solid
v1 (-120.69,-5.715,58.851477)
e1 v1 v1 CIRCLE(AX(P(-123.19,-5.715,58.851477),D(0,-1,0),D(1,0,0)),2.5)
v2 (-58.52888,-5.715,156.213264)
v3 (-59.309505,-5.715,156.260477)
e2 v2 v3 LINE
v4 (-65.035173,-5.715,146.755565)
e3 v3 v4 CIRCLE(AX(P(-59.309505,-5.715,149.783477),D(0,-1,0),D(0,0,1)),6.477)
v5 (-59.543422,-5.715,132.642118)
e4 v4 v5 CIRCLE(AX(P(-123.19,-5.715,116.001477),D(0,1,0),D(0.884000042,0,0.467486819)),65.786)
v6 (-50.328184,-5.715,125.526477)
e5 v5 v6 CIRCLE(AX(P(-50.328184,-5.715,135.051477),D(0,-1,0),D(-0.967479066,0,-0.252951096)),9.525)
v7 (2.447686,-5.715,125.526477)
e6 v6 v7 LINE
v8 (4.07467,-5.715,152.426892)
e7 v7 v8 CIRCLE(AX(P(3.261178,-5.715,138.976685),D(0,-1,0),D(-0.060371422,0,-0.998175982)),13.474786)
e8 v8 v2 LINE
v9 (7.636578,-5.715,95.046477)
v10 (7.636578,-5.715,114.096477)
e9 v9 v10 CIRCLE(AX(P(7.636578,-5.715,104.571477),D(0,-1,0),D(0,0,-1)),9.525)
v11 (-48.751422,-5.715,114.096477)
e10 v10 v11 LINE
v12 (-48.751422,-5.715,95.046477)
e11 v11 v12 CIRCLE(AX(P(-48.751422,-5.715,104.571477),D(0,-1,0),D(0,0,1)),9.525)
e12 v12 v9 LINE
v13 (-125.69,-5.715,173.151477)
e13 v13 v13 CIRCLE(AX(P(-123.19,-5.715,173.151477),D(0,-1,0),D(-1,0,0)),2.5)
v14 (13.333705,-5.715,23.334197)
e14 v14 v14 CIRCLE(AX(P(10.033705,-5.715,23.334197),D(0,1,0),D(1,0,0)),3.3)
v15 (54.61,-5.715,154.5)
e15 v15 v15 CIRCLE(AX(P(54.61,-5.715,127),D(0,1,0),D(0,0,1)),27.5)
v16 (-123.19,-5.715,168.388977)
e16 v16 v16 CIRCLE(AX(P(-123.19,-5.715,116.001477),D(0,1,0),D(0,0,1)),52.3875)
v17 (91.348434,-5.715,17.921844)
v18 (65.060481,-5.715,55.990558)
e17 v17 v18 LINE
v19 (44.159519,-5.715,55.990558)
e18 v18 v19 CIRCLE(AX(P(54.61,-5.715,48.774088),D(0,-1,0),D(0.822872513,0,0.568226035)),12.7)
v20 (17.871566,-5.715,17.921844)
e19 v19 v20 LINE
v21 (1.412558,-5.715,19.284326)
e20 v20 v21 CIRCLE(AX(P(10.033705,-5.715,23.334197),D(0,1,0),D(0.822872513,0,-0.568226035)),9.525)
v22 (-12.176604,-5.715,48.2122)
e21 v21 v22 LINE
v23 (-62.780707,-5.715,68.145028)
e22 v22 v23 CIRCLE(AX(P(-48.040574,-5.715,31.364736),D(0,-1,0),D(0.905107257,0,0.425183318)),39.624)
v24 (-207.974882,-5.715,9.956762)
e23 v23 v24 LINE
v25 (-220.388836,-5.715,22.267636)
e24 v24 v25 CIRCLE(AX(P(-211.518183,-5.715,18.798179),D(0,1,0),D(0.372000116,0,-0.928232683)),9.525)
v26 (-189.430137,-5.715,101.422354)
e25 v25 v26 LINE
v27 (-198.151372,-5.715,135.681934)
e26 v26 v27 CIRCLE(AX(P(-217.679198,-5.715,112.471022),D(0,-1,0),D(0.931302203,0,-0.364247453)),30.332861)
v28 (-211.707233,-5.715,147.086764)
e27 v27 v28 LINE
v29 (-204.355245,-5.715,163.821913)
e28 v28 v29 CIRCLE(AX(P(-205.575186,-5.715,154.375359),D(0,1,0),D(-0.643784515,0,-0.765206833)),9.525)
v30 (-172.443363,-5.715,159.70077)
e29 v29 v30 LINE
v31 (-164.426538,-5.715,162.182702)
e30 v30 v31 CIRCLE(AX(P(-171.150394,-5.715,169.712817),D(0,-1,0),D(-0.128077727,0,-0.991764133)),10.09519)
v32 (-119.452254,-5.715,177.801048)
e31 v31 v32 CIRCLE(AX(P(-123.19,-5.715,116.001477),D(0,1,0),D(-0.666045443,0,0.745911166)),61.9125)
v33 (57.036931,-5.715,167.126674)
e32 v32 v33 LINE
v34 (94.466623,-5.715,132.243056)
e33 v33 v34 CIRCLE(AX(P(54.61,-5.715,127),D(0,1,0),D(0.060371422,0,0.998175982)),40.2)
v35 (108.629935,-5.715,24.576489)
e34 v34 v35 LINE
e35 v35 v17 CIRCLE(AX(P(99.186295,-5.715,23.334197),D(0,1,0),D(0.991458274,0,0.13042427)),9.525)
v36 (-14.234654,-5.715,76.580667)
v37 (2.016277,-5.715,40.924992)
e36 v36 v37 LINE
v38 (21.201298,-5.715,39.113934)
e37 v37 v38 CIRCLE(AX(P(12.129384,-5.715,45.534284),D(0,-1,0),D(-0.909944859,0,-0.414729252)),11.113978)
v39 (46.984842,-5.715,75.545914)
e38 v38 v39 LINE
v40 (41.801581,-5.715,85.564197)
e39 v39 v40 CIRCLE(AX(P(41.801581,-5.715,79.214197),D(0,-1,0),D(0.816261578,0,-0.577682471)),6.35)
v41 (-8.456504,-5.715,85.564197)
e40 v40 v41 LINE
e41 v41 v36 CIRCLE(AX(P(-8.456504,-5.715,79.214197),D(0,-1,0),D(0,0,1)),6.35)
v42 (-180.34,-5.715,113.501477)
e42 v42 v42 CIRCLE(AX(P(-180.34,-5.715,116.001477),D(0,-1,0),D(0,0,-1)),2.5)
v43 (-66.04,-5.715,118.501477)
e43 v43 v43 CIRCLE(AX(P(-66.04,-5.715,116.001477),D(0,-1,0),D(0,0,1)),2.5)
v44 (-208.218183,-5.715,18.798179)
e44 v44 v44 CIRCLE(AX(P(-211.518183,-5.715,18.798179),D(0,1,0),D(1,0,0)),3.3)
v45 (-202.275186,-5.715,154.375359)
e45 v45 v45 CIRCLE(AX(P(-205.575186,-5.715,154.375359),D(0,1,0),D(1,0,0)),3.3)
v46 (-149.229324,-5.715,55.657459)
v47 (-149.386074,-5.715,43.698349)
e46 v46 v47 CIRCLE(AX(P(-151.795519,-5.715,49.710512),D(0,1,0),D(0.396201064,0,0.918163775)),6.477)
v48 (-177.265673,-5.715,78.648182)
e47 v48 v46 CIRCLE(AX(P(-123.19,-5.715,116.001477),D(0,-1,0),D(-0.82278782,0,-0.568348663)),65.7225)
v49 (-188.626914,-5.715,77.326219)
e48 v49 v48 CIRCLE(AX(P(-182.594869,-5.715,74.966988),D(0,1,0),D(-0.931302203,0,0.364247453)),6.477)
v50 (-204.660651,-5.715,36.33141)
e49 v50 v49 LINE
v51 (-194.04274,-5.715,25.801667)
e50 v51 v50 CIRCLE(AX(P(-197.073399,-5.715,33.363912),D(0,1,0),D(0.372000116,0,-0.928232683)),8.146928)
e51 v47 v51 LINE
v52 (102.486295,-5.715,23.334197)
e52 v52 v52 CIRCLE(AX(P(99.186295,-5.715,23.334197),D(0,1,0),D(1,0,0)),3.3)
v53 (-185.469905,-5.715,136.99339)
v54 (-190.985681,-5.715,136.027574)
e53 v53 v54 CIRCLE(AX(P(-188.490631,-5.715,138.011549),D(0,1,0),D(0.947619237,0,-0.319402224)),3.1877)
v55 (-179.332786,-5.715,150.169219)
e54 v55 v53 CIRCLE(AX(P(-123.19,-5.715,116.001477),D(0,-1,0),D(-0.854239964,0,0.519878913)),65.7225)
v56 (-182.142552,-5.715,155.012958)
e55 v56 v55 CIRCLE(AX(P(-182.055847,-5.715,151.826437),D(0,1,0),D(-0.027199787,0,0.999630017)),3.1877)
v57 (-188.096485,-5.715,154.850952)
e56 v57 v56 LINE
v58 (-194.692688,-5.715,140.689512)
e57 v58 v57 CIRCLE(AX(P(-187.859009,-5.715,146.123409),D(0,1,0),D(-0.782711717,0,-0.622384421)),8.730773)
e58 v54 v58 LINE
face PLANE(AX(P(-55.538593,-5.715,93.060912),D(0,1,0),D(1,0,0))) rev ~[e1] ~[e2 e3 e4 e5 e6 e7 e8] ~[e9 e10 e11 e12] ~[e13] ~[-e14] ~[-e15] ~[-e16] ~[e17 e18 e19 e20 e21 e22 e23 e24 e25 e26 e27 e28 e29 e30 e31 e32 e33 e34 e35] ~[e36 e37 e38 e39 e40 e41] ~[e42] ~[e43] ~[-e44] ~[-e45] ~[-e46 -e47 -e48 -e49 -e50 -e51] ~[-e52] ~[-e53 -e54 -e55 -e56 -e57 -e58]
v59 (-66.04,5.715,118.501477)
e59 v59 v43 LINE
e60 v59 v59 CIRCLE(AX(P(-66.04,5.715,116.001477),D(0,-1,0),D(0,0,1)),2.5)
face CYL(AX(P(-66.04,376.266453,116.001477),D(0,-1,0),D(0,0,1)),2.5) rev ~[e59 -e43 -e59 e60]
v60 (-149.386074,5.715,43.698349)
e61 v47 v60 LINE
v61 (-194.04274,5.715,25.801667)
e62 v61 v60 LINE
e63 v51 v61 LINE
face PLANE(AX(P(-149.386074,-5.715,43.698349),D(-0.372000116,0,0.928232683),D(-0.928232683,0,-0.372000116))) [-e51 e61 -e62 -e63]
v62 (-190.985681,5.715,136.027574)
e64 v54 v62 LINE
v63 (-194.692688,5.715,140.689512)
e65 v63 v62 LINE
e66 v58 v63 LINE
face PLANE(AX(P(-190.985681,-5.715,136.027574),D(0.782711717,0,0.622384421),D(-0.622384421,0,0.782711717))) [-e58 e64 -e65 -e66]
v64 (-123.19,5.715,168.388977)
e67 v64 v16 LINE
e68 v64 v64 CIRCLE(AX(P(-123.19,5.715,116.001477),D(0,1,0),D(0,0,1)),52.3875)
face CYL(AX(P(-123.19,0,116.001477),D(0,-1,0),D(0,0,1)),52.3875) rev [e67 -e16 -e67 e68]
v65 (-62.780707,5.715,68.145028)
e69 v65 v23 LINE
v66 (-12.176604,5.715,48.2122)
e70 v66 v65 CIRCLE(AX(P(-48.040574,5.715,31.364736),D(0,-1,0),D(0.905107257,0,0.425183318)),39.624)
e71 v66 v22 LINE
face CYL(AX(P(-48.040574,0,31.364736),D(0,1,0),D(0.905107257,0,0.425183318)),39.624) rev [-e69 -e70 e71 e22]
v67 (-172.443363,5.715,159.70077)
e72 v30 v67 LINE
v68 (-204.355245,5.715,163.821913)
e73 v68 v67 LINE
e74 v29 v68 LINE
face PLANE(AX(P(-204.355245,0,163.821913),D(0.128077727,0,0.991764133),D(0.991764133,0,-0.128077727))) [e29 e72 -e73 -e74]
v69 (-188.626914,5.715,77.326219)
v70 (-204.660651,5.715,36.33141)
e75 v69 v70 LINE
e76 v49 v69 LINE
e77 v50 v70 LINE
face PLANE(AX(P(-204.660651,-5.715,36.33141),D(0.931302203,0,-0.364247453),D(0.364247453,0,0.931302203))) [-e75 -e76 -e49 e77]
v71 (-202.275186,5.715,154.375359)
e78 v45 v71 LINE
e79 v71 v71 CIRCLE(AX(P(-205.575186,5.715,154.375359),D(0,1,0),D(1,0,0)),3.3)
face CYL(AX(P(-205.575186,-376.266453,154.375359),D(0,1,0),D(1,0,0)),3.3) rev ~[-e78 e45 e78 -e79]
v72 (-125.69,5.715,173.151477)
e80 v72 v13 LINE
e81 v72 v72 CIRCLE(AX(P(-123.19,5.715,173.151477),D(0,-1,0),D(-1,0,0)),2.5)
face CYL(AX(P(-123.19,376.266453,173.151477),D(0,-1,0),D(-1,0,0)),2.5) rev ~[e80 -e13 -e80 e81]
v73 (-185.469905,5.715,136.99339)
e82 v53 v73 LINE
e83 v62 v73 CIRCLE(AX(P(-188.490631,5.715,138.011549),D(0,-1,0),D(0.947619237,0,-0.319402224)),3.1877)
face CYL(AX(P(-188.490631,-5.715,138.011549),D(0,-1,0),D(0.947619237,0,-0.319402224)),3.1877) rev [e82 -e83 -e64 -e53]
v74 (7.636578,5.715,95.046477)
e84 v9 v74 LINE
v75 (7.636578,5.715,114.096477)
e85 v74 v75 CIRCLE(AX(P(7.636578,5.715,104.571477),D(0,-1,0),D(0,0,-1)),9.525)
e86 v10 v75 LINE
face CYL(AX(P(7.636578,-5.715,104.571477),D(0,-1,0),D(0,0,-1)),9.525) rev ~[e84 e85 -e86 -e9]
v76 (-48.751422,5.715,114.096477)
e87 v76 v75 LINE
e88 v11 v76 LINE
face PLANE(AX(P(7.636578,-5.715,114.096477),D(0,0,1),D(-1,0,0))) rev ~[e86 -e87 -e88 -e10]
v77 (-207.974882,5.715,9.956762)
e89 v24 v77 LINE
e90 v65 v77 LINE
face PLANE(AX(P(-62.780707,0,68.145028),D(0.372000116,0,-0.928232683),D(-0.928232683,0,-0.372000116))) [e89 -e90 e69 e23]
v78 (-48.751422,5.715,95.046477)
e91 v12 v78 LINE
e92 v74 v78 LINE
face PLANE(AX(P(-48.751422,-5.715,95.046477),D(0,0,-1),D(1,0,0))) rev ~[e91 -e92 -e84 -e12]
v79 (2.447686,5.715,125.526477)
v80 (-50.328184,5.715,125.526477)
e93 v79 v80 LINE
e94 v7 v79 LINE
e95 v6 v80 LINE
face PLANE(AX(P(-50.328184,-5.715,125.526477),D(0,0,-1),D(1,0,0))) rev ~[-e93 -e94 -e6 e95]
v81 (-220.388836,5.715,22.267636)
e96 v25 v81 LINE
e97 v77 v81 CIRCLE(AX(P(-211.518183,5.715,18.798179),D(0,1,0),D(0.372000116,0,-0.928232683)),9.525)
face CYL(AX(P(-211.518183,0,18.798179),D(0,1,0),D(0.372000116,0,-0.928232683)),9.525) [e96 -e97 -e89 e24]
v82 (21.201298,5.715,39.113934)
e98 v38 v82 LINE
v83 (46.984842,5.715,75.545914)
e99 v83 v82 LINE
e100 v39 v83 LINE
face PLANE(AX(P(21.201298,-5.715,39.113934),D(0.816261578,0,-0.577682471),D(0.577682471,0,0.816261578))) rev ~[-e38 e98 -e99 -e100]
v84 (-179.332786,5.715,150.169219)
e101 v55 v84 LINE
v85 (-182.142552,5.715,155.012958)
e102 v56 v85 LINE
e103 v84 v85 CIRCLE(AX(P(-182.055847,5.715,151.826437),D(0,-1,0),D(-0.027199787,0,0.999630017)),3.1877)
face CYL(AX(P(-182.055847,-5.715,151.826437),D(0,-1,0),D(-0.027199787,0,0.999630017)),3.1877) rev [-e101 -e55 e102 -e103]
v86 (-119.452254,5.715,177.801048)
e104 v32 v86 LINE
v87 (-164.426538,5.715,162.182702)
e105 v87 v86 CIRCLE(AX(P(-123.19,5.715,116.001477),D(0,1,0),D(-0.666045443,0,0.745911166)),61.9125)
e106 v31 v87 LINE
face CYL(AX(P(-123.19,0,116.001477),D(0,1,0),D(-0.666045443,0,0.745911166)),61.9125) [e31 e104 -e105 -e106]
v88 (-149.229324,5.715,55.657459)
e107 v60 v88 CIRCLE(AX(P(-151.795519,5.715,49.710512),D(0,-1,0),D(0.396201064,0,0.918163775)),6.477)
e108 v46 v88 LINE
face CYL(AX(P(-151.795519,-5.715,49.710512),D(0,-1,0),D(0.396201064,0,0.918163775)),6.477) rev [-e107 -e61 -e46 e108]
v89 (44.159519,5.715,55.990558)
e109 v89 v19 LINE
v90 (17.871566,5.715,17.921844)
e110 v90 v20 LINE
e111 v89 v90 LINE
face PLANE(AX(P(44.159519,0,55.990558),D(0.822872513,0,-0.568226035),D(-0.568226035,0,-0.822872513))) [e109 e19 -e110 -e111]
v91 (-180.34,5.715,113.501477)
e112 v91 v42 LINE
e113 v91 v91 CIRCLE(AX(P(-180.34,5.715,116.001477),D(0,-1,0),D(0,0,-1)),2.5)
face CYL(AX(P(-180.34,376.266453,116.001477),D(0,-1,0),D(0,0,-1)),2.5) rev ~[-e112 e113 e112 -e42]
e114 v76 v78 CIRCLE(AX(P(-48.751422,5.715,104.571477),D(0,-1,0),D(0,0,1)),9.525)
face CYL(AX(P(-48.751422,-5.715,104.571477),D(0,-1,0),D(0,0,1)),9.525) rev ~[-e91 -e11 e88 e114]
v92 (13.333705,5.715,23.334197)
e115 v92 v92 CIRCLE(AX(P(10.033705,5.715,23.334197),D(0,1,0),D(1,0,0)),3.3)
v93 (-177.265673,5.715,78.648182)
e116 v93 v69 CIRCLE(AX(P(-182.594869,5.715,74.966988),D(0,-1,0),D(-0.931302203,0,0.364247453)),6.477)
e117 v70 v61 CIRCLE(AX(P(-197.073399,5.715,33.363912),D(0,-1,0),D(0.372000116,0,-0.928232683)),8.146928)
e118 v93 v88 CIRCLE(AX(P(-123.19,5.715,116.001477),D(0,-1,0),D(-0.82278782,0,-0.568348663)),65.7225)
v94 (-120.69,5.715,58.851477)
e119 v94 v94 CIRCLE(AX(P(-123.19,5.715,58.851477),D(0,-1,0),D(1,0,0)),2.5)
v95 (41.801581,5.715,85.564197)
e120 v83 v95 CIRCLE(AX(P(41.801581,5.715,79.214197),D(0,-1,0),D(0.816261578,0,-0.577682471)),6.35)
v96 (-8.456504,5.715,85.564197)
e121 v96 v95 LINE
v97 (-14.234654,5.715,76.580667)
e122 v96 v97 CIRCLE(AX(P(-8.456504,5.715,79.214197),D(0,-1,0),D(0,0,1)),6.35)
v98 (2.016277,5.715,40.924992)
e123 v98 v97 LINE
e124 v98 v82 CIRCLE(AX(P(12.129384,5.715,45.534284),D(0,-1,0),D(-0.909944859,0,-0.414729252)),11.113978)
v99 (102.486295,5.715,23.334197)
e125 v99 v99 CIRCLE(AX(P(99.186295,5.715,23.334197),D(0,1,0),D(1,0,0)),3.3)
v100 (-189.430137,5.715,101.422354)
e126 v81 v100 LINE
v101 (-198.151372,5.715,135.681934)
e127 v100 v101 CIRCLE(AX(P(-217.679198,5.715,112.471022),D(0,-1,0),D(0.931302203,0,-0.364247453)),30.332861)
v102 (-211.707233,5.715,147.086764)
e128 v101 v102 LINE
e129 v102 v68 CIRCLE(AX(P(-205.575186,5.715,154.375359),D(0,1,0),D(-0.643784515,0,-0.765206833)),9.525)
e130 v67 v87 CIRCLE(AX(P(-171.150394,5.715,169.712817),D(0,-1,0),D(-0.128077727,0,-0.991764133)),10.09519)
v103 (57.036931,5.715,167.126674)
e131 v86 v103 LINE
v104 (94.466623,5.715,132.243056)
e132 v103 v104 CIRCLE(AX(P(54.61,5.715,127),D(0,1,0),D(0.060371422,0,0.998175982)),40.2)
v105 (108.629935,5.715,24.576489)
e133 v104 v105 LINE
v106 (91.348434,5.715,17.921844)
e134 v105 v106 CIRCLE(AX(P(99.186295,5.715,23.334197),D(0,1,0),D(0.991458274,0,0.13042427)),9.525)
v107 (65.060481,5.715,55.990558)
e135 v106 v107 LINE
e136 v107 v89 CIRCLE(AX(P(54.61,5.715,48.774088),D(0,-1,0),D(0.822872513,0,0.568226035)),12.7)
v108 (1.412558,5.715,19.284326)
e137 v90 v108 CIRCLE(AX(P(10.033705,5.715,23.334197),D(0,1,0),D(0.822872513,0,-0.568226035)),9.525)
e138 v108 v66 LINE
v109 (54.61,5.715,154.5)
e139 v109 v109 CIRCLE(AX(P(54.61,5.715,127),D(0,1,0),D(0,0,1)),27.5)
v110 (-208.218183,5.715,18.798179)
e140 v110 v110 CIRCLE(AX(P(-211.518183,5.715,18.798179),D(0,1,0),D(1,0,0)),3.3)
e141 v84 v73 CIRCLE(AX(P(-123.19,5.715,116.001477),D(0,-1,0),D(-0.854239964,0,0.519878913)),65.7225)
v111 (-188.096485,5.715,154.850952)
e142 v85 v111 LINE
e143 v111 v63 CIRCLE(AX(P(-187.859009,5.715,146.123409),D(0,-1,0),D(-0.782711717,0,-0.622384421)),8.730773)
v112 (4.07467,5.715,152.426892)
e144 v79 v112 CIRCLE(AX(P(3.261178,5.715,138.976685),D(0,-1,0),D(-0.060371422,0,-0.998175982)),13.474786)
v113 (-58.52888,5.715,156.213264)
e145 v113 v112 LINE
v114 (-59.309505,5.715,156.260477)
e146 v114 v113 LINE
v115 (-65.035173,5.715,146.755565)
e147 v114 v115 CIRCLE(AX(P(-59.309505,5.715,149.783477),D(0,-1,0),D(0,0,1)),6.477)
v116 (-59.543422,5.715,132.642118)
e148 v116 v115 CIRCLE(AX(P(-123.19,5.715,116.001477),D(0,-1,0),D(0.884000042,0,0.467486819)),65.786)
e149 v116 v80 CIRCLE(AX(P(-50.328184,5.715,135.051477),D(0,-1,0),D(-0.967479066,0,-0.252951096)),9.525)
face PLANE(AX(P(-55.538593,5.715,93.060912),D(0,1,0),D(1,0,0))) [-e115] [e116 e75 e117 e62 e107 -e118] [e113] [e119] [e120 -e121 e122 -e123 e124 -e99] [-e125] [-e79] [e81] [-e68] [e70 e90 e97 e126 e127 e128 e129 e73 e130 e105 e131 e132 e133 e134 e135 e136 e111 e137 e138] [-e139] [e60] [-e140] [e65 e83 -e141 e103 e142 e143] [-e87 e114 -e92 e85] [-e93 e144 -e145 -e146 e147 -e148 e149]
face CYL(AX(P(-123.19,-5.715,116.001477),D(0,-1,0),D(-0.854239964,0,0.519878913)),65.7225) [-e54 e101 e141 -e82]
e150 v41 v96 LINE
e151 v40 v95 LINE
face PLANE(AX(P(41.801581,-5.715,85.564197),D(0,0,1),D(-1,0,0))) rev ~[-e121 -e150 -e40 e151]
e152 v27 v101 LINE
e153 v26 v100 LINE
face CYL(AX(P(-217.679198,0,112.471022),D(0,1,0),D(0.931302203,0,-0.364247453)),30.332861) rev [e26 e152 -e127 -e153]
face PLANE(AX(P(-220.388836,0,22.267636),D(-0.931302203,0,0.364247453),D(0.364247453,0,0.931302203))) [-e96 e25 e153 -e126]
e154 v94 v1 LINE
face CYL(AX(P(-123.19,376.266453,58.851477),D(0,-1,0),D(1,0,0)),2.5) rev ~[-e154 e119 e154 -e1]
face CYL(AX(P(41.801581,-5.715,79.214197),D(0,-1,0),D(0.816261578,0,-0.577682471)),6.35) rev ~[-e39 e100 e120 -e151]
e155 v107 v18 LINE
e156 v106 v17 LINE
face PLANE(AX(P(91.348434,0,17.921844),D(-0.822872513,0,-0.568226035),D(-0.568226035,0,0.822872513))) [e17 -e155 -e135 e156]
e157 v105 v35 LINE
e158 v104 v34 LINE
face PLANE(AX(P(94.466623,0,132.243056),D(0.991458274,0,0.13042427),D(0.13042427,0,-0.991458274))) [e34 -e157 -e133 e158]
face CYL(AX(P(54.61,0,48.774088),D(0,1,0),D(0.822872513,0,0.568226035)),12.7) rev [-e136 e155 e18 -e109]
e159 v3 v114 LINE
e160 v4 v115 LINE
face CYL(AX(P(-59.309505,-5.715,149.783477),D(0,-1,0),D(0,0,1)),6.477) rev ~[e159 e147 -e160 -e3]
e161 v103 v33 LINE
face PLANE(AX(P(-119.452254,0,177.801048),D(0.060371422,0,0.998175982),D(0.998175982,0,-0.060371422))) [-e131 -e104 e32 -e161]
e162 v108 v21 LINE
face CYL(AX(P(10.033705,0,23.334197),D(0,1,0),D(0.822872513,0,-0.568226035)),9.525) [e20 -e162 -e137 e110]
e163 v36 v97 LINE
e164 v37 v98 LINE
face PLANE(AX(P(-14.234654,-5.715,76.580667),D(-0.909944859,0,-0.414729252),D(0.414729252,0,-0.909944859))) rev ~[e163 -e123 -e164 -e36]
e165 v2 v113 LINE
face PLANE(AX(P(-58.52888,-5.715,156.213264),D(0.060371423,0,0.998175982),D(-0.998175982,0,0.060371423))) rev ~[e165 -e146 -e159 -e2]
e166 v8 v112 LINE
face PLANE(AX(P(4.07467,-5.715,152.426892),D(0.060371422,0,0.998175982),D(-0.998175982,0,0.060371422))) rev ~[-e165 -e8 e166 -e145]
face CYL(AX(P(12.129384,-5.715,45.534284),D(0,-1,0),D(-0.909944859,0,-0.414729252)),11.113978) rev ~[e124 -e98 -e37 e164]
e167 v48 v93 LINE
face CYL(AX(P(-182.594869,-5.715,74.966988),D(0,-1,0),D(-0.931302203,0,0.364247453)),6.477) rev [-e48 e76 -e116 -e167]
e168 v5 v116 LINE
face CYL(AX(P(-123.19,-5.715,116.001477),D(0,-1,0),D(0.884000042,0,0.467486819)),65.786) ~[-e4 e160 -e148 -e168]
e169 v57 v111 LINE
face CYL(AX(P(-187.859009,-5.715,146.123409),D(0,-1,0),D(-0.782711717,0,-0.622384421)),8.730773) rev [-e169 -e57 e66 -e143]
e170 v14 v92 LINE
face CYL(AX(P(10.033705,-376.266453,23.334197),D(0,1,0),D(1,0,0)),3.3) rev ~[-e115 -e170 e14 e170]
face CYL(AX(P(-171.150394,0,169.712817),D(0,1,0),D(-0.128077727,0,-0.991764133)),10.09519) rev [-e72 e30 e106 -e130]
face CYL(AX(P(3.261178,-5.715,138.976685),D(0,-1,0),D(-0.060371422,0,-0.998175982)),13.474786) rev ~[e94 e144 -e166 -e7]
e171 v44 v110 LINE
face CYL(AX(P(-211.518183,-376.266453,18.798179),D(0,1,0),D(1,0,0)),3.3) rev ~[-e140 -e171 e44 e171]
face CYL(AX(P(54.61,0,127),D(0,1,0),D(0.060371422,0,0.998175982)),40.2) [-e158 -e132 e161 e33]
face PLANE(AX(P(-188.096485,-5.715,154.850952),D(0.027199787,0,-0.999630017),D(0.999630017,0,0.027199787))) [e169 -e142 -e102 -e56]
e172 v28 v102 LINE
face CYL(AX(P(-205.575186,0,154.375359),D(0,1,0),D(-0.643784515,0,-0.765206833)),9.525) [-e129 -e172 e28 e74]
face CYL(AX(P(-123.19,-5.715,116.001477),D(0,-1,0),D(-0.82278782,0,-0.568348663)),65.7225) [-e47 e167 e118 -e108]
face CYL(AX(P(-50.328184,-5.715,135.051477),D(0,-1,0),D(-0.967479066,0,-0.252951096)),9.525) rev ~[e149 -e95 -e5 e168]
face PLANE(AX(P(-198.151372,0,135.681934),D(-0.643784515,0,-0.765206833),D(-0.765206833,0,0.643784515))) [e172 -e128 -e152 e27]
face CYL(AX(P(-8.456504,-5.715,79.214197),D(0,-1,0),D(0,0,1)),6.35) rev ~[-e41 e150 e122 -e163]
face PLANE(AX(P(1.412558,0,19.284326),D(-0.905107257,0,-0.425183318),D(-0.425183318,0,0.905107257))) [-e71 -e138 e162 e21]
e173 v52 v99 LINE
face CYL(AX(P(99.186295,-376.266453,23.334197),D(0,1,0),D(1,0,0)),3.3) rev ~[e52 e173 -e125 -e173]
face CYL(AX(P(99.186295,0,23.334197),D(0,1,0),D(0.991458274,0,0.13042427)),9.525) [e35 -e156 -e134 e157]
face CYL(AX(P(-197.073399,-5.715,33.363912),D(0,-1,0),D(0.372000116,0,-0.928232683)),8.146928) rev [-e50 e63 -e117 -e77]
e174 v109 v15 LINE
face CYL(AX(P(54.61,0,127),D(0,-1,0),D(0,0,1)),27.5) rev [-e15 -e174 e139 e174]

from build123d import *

# Parameters (mm, degrees)
SKETCH1_R             = 52.3875
SKETCH1_R_2           = 27.5
BOSS_EXTRUDE1_DEPTH   = 5.715
M6_CLEARANCE_HOLE1_D  = 6.6
F_5_0MM_DOWEL_HOLE1_D = 5
CIRPATTERN1_COUNT     = 4
CUT_EXTRUDE3_DEPTH    = 284.979078357
CUT_EXTRUDE4_DEPTH    = 284.979078357


with BuildPart() as part:
    # Sketch1 → Boss-Extrude1 (new, symmetric)
    with BuildSketch(Plane(origin=(0, 0, 0), x_dir=(1, 0, 0), z_dir=(0, 1, 0))):
        with BuildLine():
            Line((-62.780706514, -68.14502812), (-207.974881785, -9.956762437))
            ThreePointArc((-207.974881785, -9.956762437), (-218.225236723, -12.034965467), (-220.388836369, -22.267635732))
            Line((-220.388836369, -22.267635732), (-189.430137427, -101.422354045))
            ThreePointArc((-189.430137427, -101.422354045), (-188.283833694, -119.954004575), (-198.151371623, -135.681934472))
            Line((-198.151371623, -135.681934472), (-211.707233022, -147.086764223))
            ThreePointArc((-211.707233022, -147.086764223), (-214.295764489, -158.206433226), (-204.355245166, -163.82191268))
            Line((-204.355245166, -163.82191268), (-172.443362527, -159.700770109))
            ThreePointArc((-172.443362527, -159.700770109), (-168.164823601, -160.06920649), (-164.426538493, -162.182702446))
            ThreePointArc((-164.426538493, -162.182702446), (-143.500663309, -174.487669009), (-119.452254321, -177.801047868))
            Line((-119.452254321, -177.801047868), (57.036931174, -167.126674483))
            ThreePointArc((57.036931174, -167.126674483), (82.017871973, -156.408307566), (94.466622628, -132.24305566))
            Line((94.466622628, -132.24305566), (108.629935196, -24.576488538))
            ThreePointArc((108.629935196, -24.576488538), (102.609116202, -14.445444869), (91.348434445, -17.92184438))
            Line((91.348434445, -17.92184438), (65.060480918, -55.990558325))
            ThreePointArc((65.060480918, -55.990558325), (54.61, -61.474087679), (44.159519082, -55.990558325))
            Line((44.159519082, -55.990558325), (17.871565555, -17.92184438))
            ThreePointArc((17.871565555, -17.92184438), (9.247910088, -13.841666007), (1.412558245, -19.284326264))
            Line((1.412558245, -19.284326264), (-12.176603989, -48.212200061))
            ThreePointArc((-12.176603989, -48.212200061), (-33.518744337, -68.231765471), (-62.780706514, -68.14502812))
        make_face()
        with Locations(Location((-123.19, -116.001477372, 0), (0, 0, 270))):
            Circle(SKETCH1_R, mode=Mode.SUBTRACT)
        with Locations(Location((54.61, -127, 0), (0, 0, 270))):
            Circle(SKETCH1_R_2, mode=Mode.SUBTRACT)
    extrude(amount=BOSS_EXTRUDE1_DEPTH, both=True)

    # M6 Clearance Hole1 (through all)
    with Locations(Plane(origin=(0, -5.715, 0), x_dir=(-1, 0, 0), z_dir=(0, -1, 0))):
        with Locations((-222.084502927, -125.821700696), (-10.033704867, -23.334197365), (-99.186295133, -23.334197365), (211.518182886, -18.798178744), (205.575185514, -154.375359311)):
            Hole(M6_CLEARANCE_HOLE1_D / 2)

    # Ø5.0mm Dowel Hole1 (through all)
    with Locations(Plane(origin=(0, 5.715, 0), x_dir=(1, 0, 0), z_dir=(0, 1, 0))):
        with Locations((-123.19, -173.151477372)):
            f_5_0mm_dowel_hole1 = Hole(F_5_0MM_DOWEL_HOLE1_D / 2)

    # CirPattern1: Ø5.0mm Dowel Hole1 ×4 about axis
    cirpattern1_axis = Axis((-123.19, 0, 116.001477372), (0, 1, 0))
    for i in range(1, CIRPATTERN1_COUNT):
        add(f_5_0mm_dowel_hole1.rotate(cirpattern1_axis, i * 360 / CIRPATTERN1_COUNT), mode=Mode.SUBTRACT)

    # Sketch12 → Cut-Extrude3 (cut, through all)
    with BuildSketch(Plane.XZ.offset(5.715)):
        with BuildLine():
            Line((-14.234653979, 76.580666612), (2.016277078, 40.924992231))
            ThreePointArc((2.016277078, 40.924992231), (11.084872861, 34.469497273), (21.201297863, 39.113933708))
            Line((21.201297863, 39.113933708), (46.984841737, 75.545913676))
            ThreePointArc((46.984841737, 75.545913676), (47.441443369, 82.132150292), (41.801580719, 85.564197365))
            Line((41.801580719, 85.564197365), (-8.456504121, 85.564197365))
            ThreePointArc((-8.456504121, 85.564197365), (-13.797169823, 82.649279585), (-14.234653979, 76.580666612))
        make_face()
        with BuildLine():
            Line((-204.660650751, 36.331409888), (-188.626913597, 77.326218823))
            ThreePointArc((-188.626913597, 77.326218823), (-183.343464985, 81.400582198), (-177.265672517, 78.648182362))
            ThreePointArc((-177.265672517, 78.648182362), (-164.864290964, 65.181201114), (-149.229324423, 55.657458697))
            ThreePointArc((-149.229324423, 55.657458697), (-145.319075006, 49.625624375), (-149.386073966, 43.698348841))
            Line((-149.386073966, 43.698348841), (-194.042740287, 25.801666969))
            ThreePointArc((-194.042740287, 25.801666969), (-202.810079512, 27.579196728), (-204.660650751, 36.331409888))
        make_face()
        with BuildLine():
            Line((-190.985681304, 136.027573744), (-194.692687992, 140.689511725))
            ThreePointArc((-194.692687992, 140.689511725), (-195.773357295, 149.809803058), (-188.096484537, 154.850952212))
            Line((-188.096484537, 154.850952212), (-182.142551509, 155.01295786))
            ThreePointArc((-182.142551509, 155.01295786), (-179.298484939, 153.425933155), (-179.332786017, 150.169219243))
            ThreePointArc((-179.332786017, 150.169219243), (-182.766707481, 143.751485155), (-185.46990532, 136.993390091))
            ThreePointArc((-185.46990532, 136.993390091), (-187.940827525, 134.871620657), (-190.985681304, 136.027573744))
        make_face()
    extrude(amount=-CUT_EXTRUDE3_DEPTH, mode=Mode.SUBTRACT)

    # Sketch13 → Cut-Extrude4 (cut, through all)
    with BuildSketch(Plane.XZ.offset(5.715)):
        with BuildLine():
            Line((7.636577505, 114.096477372), (-48.751422495, 114.096477372))
            ThreePointArc((-48.751422495, 114.096477372), (-58.276422495, 104.571477372), (-48.751422495, 95.046477372))
            Line((-48.751422495, 95.046477372), (7.636577505, 95.046477372))
            ThreePointArc((7.636577505, 95.046477372), (17.161577505, 104.571477372), (7.636577505, 114.096477372))
        make_face()
        with BuildLine():
            ThreePointArc((-59.54342217, 132.642118181), (-56.149544678, 127.512420027), (-50.328184067, 125.526477372))
            Line((-50.328184067, 125.526477372), (2.447685954, 125.526477372))
            ThreePointArc((2.447685954, 125.526477372), (16.711385269, 138.163192745), (4.074669896, 152.42689206))
            Line((4.074669896, 152.42689206), (-58.528880044, 156.213263816))
            Line((-58.528880044, 156.213263816), (-59.309504972, 156.260477372))
            ThreePointArc((-59.309504972, 156.260477372), (-64.85762699, 153.125613078), (-65.035173244, 146.755565245))
            ThreePointArc((-65.035173244, 146.755565245), (-61.881820392, 139.857397165), (-59.54342217, 132.642118181))
        make_face()
    extrude(amount=-CUT_EXTRUDE4_DEPTH, mode=Mode.SUBTRACT)


solid = part.part
